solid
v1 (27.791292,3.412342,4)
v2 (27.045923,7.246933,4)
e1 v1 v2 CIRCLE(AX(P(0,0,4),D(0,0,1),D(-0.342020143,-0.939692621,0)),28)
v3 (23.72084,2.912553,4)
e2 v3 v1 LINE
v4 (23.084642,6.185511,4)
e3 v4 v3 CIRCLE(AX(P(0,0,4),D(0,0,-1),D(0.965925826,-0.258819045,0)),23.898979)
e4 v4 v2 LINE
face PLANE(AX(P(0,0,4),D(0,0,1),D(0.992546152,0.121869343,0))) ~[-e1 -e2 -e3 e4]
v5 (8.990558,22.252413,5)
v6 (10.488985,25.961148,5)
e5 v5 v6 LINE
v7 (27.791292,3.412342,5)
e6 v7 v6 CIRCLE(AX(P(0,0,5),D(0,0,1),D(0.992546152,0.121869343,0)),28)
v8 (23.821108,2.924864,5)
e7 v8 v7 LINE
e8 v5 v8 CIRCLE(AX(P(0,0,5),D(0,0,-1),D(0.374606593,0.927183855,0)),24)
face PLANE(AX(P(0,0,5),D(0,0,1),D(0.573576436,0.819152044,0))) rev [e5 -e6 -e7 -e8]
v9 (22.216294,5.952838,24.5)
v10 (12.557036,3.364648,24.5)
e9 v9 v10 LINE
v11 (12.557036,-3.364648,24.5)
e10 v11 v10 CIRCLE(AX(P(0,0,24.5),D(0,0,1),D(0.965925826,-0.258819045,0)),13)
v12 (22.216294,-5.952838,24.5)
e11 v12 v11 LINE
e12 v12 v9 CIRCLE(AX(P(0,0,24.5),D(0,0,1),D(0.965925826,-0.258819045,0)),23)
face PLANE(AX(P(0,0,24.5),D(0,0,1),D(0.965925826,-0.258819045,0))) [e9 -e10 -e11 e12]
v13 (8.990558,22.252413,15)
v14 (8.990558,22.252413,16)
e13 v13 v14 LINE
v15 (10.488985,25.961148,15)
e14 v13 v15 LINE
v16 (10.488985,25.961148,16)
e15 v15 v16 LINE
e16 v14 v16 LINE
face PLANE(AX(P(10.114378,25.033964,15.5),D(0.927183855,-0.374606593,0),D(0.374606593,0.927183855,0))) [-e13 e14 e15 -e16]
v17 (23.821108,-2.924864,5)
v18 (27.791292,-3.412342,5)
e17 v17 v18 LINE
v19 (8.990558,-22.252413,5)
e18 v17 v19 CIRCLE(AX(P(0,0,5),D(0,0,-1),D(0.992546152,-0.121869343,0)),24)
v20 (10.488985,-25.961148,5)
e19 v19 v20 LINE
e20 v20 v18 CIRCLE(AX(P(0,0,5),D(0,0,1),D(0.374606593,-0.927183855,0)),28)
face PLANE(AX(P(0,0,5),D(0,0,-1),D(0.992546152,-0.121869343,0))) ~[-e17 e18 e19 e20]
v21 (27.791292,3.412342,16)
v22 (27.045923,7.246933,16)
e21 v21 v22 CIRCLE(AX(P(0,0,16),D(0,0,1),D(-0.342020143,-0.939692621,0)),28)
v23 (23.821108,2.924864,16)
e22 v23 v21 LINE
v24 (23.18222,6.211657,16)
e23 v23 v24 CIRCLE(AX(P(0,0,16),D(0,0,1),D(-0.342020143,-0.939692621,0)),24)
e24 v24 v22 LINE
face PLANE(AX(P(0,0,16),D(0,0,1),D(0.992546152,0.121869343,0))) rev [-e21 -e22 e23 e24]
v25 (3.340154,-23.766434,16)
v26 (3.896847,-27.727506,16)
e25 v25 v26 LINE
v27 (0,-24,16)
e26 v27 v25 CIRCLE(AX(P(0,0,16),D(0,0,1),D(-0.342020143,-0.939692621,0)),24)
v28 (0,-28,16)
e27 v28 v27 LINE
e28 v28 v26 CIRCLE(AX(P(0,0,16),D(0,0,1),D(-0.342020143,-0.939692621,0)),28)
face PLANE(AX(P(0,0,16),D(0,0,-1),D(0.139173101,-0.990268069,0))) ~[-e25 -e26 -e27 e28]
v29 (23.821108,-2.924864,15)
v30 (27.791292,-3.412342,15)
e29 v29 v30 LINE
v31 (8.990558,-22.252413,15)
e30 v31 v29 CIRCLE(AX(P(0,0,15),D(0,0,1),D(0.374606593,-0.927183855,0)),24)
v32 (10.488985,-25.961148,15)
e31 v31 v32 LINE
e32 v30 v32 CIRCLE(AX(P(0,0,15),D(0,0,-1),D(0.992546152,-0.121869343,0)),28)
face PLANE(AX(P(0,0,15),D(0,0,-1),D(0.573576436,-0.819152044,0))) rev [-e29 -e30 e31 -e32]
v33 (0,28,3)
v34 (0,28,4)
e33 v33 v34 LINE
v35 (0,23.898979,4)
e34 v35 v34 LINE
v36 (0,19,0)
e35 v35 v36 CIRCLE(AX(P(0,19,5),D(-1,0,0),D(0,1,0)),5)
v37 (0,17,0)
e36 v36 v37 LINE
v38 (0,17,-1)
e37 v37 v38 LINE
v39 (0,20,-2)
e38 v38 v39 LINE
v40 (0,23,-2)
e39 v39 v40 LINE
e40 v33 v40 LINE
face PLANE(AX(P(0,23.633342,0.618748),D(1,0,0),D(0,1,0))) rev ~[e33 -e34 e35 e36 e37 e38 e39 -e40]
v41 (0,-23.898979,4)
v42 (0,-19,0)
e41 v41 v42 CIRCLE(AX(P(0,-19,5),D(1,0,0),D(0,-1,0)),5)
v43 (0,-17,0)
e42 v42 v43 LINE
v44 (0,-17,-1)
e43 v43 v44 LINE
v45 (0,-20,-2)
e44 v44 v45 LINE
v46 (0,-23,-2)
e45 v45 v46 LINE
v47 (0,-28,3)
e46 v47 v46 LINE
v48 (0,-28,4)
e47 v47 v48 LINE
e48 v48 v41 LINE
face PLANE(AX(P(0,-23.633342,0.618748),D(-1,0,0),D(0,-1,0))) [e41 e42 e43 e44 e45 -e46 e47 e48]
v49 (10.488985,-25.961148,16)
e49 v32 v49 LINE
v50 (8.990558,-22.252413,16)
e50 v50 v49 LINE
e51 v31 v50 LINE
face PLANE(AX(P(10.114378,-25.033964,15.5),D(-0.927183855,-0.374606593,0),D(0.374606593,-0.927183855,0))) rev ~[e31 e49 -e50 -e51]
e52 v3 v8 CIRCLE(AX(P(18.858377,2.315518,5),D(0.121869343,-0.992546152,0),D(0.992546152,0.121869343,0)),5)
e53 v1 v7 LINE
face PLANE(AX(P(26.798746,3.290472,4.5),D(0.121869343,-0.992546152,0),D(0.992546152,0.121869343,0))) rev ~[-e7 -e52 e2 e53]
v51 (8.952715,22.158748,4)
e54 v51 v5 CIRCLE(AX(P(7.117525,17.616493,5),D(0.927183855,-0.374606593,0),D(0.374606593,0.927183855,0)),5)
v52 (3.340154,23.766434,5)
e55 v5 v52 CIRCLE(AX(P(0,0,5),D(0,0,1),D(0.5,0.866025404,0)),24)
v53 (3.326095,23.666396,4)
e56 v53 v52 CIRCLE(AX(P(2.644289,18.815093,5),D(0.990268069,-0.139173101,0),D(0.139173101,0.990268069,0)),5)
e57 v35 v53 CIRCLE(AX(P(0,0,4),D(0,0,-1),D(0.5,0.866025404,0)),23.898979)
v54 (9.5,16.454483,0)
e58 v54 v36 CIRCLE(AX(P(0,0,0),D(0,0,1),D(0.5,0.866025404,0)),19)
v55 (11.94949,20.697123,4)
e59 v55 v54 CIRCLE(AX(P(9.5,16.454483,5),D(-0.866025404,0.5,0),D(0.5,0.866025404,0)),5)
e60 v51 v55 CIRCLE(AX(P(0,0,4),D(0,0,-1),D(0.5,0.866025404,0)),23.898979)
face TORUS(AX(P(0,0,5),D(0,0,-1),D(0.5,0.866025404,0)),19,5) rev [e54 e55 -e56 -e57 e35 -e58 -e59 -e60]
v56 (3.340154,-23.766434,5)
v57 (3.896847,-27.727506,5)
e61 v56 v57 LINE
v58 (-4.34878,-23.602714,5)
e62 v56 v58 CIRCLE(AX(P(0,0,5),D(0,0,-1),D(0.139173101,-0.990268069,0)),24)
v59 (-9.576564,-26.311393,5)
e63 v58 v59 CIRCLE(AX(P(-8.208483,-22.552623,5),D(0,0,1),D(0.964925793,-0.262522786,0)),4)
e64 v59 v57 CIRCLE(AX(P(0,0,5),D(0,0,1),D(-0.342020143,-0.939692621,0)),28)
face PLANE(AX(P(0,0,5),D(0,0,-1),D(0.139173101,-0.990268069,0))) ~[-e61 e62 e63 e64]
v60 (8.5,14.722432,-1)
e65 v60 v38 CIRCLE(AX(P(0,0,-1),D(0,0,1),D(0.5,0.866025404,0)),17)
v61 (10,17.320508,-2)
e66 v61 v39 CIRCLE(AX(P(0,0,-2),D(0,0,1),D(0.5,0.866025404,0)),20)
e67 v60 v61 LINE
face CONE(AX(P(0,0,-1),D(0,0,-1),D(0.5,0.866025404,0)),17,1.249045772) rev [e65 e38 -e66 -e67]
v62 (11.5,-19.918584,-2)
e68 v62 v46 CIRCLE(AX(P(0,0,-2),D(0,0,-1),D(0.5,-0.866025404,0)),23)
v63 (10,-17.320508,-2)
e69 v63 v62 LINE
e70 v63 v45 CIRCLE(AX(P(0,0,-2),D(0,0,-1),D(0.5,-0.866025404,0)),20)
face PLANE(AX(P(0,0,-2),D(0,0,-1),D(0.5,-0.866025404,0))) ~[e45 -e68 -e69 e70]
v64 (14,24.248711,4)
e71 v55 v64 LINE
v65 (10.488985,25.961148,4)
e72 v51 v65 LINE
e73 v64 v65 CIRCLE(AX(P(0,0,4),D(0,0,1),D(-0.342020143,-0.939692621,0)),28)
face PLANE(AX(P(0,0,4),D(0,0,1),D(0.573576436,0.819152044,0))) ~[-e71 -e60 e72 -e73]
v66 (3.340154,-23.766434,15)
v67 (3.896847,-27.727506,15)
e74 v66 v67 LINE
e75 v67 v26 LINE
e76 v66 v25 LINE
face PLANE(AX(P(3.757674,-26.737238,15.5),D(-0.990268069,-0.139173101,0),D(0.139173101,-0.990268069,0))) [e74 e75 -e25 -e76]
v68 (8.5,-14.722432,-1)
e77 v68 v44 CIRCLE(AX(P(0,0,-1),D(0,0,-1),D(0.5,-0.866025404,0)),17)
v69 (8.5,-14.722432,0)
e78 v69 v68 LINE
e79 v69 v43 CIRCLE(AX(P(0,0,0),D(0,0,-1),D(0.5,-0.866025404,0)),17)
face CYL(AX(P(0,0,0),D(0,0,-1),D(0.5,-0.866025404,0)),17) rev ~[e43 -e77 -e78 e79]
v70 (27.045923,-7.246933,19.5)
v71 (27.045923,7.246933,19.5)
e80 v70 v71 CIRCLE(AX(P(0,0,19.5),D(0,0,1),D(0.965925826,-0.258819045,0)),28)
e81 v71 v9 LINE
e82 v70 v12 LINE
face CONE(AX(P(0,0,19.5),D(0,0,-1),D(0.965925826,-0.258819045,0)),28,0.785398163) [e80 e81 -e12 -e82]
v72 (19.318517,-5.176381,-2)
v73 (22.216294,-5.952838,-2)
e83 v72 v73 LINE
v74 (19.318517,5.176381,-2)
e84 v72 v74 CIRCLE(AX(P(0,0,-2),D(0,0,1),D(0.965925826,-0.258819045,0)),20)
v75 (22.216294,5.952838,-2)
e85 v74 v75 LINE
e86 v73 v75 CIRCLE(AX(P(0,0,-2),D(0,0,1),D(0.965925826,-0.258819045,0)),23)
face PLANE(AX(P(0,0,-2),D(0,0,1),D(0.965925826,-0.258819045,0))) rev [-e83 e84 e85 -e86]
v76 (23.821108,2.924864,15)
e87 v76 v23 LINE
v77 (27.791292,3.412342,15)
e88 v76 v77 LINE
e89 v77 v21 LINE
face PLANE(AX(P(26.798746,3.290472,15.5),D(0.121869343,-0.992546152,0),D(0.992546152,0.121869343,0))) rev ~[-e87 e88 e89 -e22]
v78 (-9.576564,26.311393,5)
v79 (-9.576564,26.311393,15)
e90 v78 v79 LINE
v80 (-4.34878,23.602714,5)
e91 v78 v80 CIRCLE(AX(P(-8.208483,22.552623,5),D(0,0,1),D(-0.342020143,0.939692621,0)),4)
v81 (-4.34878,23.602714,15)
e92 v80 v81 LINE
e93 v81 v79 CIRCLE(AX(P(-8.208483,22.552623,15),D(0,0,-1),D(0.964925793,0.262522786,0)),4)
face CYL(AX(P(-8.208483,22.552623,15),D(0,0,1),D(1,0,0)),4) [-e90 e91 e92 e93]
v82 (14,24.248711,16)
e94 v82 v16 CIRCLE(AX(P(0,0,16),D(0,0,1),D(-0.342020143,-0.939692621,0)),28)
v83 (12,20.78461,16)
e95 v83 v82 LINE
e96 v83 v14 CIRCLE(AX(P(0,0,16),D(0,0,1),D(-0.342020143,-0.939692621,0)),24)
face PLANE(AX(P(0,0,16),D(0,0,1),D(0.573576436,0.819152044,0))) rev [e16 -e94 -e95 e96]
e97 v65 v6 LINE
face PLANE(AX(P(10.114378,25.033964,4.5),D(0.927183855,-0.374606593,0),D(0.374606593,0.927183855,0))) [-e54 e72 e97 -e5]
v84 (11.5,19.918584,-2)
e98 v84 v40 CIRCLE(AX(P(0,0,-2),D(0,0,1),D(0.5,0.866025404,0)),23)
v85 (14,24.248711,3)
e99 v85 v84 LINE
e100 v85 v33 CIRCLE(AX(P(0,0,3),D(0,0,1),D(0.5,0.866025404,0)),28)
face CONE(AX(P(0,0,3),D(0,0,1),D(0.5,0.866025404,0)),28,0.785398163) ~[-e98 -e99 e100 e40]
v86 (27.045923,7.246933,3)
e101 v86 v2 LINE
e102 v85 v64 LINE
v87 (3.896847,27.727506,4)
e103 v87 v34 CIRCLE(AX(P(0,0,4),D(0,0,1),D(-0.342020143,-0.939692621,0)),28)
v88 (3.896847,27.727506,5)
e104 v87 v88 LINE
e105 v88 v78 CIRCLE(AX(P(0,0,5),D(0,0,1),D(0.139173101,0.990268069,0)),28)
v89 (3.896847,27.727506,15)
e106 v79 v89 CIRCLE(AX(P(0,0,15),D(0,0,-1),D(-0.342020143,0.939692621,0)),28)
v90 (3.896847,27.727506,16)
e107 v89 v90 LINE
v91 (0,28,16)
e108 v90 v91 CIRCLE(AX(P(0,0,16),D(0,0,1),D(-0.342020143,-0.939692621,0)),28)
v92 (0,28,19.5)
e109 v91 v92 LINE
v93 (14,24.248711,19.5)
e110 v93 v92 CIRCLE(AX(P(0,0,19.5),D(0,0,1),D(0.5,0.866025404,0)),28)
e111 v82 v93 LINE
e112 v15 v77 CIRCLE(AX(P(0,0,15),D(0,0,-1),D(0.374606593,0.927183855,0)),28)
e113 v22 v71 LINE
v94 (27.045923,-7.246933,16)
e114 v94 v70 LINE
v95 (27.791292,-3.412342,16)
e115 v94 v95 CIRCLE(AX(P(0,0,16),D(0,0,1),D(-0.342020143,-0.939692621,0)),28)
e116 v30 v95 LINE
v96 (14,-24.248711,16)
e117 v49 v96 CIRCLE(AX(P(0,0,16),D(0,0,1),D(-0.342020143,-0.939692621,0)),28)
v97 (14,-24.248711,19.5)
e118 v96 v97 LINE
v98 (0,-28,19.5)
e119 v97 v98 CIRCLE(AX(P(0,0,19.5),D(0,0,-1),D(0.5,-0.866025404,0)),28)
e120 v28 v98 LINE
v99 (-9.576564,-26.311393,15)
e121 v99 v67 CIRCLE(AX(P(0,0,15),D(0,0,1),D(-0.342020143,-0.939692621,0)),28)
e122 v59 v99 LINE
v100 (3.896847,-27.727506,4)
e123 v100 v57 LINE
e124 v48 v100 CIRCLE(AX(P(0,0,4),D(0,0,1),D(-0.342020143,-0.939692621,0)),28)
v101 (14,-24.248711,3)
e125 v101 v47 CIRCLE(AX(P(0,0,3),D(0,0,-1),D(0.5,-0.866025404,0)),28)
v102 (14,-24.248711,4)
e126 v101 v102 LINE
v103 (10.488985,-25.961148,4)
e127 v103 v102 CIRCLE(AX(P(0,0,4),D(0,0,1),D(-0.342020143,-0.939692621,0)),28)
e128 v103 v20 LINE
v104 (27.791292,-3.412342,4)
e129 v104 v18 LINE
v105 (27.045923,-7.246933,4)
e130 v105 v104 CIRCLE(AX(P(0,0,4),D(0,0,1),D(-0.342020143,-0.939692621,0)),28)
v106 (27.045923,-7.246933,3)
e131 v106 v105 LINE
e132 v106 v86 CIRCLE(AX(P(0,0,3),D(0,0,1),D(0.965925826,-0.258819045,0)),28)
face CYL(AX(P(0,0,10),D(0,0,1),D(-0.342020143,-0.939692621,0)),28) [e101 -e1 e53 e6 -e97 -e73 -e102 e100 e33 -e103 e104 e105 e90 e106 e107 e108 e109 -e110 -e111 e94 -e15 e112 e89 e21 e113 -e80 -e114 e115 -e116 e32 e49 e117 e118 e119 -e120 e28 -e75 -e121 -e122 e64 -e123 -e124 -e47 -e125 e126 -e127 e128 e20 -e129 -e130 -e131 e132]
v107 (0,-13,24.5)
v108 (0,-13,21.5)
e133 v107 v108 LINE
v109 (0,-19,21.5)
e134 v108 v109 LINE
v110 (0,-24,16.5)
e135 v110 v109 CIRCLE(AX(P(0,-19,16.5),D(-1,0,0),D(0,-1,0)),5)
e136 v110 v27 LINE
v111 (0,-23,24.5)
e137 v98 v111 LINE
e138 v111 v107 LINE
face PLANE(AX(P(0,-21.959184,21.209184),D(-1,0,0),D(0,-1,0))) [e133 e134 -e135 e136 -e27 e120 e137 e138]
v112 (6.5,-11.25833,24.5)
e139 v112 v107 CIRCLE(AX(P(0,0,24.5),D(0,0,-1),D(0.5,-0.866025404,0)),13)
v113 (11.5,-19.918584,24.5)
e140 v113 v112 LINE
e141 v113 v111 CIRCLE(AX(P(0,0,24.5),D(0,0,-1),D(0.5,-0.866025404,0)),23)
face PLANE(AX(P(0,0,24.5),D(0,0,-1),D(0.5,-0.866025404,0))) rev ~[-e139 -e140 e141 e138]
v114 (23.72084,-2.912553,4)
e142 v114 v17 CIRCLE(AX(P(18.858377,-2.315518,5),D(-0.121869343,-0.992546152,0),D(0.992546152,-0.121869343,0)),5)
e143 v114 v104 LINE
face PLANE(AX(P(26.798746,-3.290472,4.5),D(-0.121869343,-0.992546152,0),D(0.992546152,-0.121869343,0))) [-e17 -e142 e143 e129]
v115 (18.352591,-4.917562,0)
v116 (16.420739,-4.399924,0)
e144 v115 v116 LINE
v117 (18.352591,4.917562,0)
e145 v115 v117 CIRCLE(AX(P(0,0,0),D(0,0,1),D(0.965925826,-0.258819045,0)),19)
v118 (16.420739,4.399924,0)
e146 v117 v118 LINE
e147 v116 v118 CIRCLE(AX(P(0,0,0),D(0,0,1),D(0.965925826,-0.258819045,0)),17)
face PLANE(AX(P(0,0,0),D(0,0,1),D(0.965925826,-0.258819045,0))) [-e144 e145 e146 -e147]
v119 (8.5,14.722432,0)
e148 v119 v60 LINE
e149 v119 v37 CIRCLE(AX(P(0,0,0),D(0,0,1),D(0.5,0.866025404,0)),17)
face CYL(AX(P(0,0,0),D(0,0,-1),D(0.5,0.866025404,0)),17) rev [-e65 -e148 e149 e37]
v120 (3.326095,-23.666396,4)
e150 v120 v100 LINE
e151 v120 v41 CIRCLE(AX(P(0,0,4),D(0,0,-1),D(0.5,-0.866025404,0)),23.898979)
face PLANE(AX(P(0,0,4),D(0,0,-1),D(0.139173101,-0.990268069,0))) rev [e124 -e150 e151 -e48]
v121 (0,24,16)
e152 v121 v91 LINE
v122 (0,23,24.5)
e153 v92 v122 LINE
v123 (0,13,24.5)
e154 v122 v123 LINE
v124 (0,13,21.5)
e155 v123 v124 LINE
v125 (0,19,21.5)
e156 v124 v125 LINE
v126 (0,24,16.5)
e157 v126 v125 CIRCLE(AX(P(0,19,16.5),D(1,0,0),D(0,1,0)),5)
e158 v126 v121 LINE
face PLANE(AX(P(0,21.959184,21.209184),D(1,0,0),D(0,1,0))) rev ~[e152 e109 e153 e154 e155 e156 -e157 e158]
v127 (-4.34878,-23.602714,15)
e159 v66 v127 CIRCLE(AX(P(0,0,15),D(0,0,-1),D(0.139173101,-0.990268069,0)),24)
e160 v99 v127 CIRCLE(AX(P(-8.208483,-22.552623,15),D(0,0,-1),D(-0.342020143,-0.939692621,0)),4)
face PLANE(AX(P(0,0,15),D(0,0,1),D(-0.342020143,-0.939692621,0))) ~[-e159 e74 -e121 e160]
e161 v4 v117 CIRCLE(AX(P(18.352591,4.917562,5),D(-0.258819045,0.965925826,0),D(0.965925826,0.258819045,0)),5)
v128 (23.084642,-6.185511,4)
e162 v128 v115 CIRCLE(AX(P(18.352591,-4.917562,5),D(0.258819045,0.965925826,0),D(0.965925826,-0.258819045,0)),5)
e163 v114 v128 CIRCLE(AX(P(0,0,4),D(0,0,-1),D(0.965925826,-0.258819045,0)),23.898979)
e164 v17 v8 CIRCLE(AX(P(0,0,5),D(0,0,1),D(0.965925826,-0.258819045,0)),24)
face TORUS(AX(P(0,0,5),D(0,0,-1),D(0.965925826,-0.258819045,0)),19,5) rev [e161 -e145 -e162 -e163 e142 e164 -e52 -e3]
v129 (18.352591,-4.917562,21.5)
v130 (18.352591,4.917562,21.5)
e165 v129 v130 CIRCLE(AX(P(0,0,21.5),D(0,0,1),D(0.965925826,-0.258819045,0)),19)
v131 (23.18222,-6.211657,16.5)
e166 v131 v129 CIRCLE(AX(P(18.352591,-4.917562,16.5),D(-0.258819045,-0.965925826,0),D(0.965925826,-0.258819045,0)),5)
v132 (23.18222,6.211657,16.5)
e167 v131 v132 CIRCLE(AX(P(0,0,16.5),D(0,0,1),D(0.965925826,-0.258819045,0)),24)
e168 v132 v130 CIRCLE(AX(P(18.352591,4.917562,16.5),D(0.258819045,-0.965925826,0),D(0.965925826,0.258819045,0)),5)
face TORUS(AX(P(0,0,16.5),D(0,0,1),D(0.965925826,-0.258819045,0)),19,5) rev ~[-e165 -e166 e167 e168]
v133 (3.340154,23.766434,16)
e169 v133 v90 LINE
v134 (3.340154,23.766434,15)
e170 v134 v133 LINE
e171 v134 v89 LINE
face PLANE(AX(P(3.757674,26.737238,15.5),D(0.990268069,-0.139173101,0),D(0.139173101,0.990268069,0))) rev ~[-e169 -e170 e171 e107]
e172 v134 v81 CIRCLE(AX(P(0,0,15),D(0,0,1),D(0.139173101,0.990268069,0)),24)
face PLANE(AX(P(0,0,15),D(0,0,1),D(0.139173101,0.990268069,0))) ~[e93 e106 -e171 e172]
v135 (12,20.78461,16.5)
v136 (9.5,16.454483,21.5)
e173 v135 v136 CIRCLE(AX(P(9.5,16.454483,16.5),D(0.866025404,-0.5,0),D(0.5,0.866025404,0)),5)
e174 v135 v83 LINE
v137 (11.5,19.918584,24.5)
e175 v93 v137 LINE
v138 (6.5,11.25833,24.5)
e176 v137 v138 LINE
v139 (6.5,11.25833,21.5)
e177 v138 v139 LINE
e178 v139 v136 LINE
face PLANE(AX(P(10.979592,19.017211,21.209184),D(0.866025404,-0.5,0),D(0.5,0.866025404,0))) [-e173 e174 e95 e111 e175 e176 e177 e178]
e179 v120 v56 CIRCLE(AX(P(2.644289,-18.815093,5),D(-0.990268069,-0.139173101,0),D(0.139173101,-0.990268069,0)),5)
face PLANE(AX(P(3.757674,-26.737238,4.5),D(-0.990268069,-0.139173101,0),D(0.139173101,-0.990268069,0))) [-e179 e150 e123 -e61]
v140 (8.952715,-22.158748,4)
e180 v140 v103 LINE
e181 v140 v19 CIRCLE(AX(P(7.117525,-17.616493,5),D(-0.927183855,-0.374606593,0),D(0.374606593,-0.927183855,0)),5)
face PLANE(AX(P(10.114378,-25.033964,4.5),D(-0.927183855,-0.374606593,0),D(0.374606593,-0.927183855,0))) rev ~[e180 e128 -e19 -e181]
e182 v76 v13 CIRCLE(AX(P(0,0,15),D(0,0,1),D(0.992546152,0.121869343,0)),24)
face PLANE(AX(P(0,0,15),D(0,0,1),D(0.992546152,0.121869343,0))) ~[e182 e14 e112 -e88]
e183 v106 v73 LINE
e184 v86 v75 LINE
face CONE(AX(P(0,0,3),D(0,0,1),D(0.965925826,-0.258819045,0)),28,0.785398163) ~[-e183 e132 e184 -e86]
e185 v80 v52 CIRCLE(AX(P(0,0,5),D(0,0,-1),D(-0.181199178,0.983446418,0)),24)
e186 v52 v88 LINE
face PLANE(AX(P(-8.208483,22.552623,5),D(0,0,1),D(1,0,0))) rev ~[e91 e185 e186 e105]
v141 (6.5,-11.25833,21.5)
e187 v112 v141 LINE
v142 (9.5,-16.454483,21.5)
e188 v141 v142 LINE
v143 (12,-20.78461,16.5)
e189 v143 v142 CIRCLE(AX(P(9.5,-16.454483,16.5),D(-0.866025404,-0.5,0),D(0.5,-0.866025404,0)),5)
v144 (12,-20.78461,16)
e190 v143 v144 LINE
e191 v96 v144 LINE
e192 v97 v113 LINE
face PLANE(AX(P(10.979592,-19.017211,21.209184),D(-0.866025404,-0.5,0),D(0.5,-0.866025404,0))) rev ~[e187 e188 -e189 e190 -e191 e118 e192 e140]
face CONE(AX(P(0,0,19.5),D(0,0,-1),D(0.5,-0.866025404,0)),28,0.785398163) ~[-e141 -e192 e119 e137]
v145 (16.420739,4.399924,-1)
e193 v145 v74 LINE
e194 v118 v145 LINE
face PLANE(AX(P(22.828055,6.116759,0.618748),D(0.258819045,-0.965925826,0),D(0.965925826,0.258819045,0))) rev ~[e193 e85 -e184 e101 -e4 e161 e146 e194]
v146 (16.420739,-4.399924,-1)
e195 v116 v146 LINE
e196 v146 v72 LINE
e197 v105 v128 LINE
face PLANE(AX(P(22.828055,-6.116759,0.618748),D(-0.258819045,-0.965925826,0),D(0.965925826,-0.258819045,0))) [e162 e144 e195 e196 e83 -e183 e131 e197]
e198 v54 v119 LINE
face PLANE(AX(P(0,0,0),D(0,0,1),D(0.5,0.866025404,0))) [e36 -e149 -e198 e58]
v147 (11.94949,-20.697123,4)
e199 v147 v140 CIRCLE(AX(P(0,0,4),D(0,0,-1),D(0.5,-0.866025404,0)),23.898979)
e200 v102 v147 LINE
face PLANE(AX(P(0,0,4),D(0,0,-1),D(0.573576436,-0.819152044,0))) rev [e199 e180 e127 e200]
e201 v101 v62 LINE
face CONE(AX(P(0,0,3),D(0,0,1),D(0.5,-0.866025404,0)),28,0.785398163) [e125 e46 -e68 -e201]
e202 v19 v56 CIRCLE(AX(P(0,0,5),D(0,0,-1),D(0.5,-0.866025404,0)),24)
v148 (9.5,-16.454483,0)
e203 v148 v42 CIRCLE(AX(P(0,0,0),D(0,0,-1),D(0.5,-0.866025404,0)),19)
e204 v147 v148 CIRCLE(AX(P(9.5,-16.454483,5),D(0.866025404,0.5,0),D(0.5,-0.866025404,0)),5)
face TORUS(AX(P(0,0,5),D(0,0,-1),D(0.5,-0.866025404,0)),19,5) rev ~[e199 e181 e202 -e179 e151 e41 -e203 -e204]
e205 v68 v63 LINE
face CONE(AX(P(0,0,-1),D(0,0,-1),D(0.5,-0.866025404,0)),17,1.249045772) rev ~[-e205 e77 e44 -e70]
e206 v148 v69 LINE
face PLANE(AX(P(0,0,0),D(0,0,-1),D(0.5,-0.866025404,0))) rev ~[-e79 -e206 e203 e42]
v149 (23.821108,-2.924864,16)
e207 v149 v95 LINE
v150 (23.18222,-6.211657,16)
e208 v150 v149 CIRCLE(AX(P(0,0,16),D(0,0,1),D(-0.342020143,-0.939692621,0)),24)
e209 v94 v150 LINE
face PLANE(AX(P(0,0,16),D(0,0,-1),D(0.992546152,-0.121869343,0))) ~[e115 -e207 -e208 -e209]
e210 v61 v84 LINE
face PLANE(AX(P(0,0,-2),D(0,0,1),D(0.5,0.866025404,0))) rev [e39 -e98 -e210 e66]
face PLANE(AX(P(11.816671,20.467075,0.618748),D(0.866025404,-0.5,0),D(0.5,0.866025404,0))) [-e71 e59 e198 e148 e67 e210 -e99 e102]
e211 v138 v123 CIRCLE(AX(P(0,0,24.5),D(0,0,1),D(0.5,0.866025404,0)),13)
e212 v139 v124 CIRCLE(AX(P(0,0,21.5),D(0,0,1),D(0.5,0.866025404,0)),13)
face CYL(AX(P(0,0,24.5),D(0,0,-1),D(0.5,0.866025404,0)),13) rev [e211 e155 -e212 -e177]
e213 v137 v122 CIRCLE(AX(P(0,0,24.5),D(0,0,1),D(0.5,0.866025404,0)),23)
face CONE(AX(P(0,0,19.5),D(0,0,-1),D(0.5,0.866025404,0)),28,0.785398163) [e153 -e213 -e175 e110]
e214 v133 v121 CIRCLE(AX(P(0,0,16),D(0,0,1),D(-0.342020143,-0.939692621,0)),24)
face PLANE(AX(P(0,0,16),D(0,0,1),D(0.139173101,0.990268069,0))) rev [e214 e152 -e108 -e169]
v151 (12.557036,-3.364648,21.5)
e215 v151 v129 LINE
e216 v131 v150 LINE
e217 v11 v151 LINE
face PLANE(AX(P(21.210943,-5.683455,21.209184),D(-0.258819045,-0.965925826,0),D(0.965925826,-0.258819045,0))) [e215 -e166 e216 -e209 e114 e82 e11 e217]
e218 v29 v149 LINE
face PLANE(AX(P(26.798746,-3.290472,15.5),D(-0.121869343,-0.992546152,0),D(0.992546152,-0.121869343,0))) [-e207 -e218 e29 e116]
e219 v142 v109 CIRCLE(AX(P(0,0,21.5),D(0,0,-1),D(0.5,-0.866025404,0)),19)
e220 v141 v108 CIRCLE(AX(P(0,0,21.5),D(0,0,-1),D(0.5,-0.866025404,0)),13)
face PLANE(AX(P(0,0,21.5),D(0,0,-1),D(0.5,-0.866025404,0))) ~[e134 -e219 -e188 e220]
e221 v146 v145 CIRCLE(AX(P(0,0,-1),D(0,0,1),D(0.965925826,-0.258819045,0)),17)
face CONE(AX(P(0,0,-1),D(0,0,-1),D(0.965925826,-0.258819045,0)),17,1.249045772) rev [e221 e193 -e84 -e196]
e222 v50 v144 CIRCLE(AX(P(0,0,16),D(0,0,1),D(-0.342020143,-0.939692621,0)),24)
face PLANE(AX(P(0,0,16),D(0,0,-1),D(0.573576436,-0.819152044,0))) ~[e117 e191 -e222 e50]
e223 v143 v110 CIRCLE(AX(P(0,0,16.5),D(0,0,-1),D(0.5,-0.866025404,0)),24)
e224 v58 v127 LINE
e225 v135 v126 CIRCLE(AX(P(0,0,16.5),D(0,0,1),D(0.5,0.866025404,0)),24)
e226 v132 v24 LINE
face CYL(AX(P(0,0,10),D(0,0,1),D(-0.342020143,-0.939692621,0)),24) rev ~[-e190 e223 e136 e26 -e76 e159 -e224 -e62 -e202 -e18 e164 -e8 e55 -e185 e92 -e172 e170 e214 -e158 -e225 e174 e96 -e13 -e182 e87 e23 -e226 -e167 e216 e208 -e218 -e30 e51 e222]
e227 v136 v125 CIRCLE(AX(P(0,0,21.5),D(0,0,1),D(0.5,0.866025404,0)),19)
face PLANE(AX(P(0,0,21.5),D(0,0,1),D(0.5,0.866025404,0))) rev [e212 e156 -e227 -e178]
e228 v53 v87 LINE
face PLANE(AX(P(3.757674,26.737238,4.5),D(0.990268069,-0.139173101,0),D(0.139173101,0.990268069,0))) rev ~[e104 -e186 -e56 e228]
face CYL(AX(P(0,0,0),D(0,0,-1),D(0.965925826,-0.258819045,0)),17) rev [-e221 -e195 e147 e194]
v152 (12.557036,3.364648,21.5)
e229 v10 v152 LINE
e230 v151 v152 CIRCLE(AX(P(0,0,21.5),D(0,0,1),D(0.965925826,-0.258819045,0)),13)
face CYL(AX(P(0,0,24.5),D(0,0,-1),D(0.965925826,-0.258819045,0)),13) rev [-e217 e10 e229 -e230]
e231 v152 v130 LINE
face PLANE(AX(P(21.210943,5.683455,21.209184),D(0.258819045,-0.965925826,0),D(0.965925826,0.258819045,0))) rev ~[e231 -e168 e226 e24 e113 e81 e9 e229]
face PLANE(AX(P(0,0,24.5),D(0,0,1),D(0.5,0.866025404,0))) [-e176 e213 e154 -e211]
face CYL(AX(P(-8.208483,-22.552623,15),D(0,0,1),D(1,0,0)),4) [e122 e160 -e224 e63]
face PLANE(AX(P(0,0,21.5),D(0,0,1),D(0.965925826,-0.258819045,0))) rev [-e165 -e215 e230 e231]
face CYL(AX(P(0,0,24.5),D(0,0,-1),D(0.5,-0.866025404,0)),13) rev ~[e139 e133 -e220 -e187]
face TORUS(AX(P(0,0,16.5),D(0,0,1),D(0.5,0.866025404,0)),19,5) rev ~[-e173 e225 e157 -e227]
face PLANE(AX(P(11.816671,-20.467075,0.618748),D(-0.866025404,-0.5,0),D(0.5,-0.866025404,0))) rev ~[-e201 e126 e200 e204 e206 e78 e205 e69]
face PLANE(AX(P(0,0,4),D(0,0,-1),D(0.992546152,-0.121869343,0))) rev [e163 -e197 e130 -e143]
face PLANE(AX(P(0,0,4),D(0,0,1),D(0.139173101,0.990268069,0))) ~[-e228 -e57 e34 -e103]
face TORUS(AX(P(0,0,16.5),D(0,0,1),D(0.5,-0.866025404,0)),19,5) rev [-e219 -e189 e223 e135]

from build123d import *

# Parameters (mm, degrees)
F0_W            = 4
F0_H            = 10
F1_ANGLE_BACK   = 110
F1_ANGLE        = 220
F2_ANGLE_START  = 60
F2_ANGLE        = 30
F3_ANGLE_START  = 60
F3_ANGLE        = 30
F4_ANGLE_BACK   = 15
F4_ANGLE        = 30
F5_R            = 4
F6_DEPTH        = 10
F7_R            = 5
F8_SIZE         = 5
F9_W            = 10
F9_H            = 1
F10_ANGLE_START = 7
F10_ANGLE       = 13
F11_ANGLE_START = 7
F11_ANGLE       = 13
F12_ANGLE_START = 82
F12_ANGLE       = 13
F13_ANGLE_START = 82
F13_ANGLE       = 13
F14_ANGLE_START = 55
F14_ANGLE       = 13
F15_ANGLE_START = 55
F15_ANGLE       = 13


with BuildPart() as f1:
    # F0 (on Front) → F1 (revolve)
    with BuildSketch(Plane.XZ, mode=Mode.PRIVATE) as f1_sk:
        with Locations((26, 10)):
            Rectangle(F0_W, F0_H)
    revolve(f1_sk.sketch.rotate(Axis((0, 0, 10), (0, 0, 1)), -F1_ANGLE_BACK), axis=Axis((0, 0, 10), (0, 0, 1)), revolution_arc=F1_ANGLE)

    # F0 (on Front) → F2 (revolve)
    with BuildSketch(Plane.XZ, mode=Mode.PRIVATE) as f2_sk:
        Polygon((24, 21.5), (24, 15), (28, 15), (28, 24.5), (13, 24.5), (13, 21.5), align=None)
        Polygon((28, 5), (24, 5), (24, 0), (17, 0), (17, -1), (20, -2), (28, -2), align=None)
    revolve(f2_sk.sketch.rotate(Axis((0, 0, 10), (0, 0, -1)), F2_ANGLE_START), axis=Axis((0, 0, 10), (0, 0, -1)), revolution_arc=F2_ANGLE)

    # F0 (on Front) → F3 (revolve)
    with BuildSketch(Plane.XZ, mode=Mode.PRIVATE) as f3_sk:
        Polygon((24, 21.5), (24, 15), (28, 15), (28, 24.5), (13, 24.5), (13, 21.5), align=None)
        Polygon((28, 5), (24, 5), (24, 0), (17, 0), (17, -1), (20, -2), (28, -2), align=None)
    revolve(f3_sk.sketch.rotate(Axis((0, 0, 10), (0, 0, 1)), F3_ANGLE_START), axis=Axis((0, 0, 10), (0, 0, 1)), revolution_arc=F3_ANGLE)

    # F0 (on Front) → F4 (revolve)
    with BuildSketch(Plane.XZ, mode=Mode.PRIVATE) as f4_sk:
        Polygon((24, 21.5), (24, 15), (28, 15), (28, 24.5), (13, 24.5), (13, 21.5), align=None)
        Polygon((28, 5), (24, 5), (24, 0), (17, 0), (17, -1), (20, -2), (28, -2), align=None)
    revolve(f4_sk.sketch.rotate(Axis((0, 0, 10), (0, 0, 1)), -F4_ANGLE_BACK), axis=Axis((0, 0, 10), (0, 0, 1)), revolution_arc=F4_ANGLE)

    # F5 (on face) → F6 (join, through all)
    with BuildSketch(Plane.XY.offset(15)):
        with Locations((-8.2084834398, 22.5526228989)):
            Circle(F5_R)
        with Locations((-8.2084834398, -22.5526228989)):
            Circle(F5_R)
    extrude(amount=-F6_DEPTH)

    # F7
    f7_edges = [f1.edges().sort_by_distance(p)[0] for p in [
        (24, 0, 21.5),
        (6.211657, 23.18222, 21.5),
        (6.211657, -23.18222, 21.5),
        (6.211657, -23.18222, 0),
        (6.211657, 23.18222, 0),
        (24, 0, 0),
    ]]
    fillet(f7_edges, radius=F7_R)

    # F8
    f8_edges = [f1.edges().sort_by_distance(p)[0] for p in [
        (7.246933, 27.045923, 24.5),
        (28, 0, 24.5),
        (7.246933, -27.045923, 24.5),
        (7.246933, -27.045923, -2),
        (7.246933, 27.045923, -2),
        (28, 0, -2),
    ]]
    chamfer(f8_edges, length=F8_SIZE)

    # F9 (on Front) → F10 (revolve, cut)
    with BuildSketch(Plane.XZ, mode=Mode.PRIVATE) as f10_sk:
        with Locations((27, 15.5)):
            Rectangle(F9_W, F9_H)
        with Locations((27, 4.5)):
            Rectangle(F9_W, F9_H)
    revolve(f10_sk.sketch.rotate(Axis((0, 0, 10), (0, 0, -1)), F10_ANGLE_START), axis=Axis((0, 0, 10), (0, 0, -1)), revolution_arc=F10_ANGLE, mode=Mode.SUBTRACT)

    # F9 (on Front) → F11 (revolve, cut)
    with BuildSketch(Plane.XZ, mode=Mode.PRIVATE) as f11_sk:
        with Locations((27, 15.5)):
            Rectangle(F9_W, F9_H)
        with Locations((27, 4.5)):
            Rectangle(F9_W, F9_H)
    revolve(f11_sk.sketch.rotate(Axis((0, 0, 10), (0, 0, 1)), F11_ANGLE_START), axis=Axis((0, 0, 10), (0, 0, 1)), revolution_arc=F11_ANGLE, mode=Mode.SUBTRACT)

    # F9 (on Front) → F12 (revolve, cut)
    with BuildSketch(Plane.XZ, mode=Mode.PRIVATE) as f12_sk:
        with Locations((27, 15.5)):
            Rectangle(F9_W, F9_H)
        with Locations((27, 4.5)):
            Rectangle(F9_W, F9_H)
    revolve(f12_sk.sketch.rotate(Axis((0, 0, 10), (0, 0, 1)), F12_ANGLE_START), axis=Axis((0, 0, 10), (0, 0, 1)), revolution_arc=F12_ANGLE, mode=Mode.SUBTRACT)

    # F9 (on Front) → F13 (revolve, cut)
    with BuildSketch(Plane.XZ, mode=Mode.PRIVATE) as f13_sk:
        with Locations((27, 15.5)):
            Rectangle(F9_W, F9_H)
        with Locations((27, 4.5)):
            Rectangle(F9_W, F9_H)
    revolve(f13_sk.sketch.rotate(Axis((0, 0, 10), (0, 0, -1)), F13_ANGLE_START), axis=Axis((0, 0, 10), (0, 0, -1)), revolution_arc=F13_ANGLE, mode=Mode.SUBTRACT)

    # F9 (on Front) → F14 (revolve, cut)
    with BuildSketch(Plane.XZ, mode=Mode.PRIVATE) as f14_sk:
        with Locations((27, 15.5)):
            Rectangle(F9_W, F9_H)
        with Locations((27, 4.5)):
            Rectangle(F9_W, F9_H)
    revolve(f14_sk.sketch.rotate(Axis((0, 0, 10), (0, 0, -1)), F14_ANGLE_START), axis=Axis((0, 0, 10), (0, 0, -1)), revolution_arc=F14_ANGLE, mode=Mode.SUBTRACT)

    # F9 (on Front) → F15 (revolve, cut)
    with BuildSketch(Plane.XZ, mode=Mode.PRIVATE) as f15_sk:
        with Locations((27, 15.5)):
            Rectangle(F9_W, F9_H)
        with Locations((27, 4.5)):
            Rectangle(F9_W, F9_H)
    revolve(f15_sk.sketch.rotate(Axis((0, 0, 10), (0, 0, 1)), F15_ANGLE_START), axis=Axis((0, 0, 10), (0, 0, 1)), revolution_arc=F15_ANGLE, mode=Mode.SUBTRACT)


solid = f1.part
